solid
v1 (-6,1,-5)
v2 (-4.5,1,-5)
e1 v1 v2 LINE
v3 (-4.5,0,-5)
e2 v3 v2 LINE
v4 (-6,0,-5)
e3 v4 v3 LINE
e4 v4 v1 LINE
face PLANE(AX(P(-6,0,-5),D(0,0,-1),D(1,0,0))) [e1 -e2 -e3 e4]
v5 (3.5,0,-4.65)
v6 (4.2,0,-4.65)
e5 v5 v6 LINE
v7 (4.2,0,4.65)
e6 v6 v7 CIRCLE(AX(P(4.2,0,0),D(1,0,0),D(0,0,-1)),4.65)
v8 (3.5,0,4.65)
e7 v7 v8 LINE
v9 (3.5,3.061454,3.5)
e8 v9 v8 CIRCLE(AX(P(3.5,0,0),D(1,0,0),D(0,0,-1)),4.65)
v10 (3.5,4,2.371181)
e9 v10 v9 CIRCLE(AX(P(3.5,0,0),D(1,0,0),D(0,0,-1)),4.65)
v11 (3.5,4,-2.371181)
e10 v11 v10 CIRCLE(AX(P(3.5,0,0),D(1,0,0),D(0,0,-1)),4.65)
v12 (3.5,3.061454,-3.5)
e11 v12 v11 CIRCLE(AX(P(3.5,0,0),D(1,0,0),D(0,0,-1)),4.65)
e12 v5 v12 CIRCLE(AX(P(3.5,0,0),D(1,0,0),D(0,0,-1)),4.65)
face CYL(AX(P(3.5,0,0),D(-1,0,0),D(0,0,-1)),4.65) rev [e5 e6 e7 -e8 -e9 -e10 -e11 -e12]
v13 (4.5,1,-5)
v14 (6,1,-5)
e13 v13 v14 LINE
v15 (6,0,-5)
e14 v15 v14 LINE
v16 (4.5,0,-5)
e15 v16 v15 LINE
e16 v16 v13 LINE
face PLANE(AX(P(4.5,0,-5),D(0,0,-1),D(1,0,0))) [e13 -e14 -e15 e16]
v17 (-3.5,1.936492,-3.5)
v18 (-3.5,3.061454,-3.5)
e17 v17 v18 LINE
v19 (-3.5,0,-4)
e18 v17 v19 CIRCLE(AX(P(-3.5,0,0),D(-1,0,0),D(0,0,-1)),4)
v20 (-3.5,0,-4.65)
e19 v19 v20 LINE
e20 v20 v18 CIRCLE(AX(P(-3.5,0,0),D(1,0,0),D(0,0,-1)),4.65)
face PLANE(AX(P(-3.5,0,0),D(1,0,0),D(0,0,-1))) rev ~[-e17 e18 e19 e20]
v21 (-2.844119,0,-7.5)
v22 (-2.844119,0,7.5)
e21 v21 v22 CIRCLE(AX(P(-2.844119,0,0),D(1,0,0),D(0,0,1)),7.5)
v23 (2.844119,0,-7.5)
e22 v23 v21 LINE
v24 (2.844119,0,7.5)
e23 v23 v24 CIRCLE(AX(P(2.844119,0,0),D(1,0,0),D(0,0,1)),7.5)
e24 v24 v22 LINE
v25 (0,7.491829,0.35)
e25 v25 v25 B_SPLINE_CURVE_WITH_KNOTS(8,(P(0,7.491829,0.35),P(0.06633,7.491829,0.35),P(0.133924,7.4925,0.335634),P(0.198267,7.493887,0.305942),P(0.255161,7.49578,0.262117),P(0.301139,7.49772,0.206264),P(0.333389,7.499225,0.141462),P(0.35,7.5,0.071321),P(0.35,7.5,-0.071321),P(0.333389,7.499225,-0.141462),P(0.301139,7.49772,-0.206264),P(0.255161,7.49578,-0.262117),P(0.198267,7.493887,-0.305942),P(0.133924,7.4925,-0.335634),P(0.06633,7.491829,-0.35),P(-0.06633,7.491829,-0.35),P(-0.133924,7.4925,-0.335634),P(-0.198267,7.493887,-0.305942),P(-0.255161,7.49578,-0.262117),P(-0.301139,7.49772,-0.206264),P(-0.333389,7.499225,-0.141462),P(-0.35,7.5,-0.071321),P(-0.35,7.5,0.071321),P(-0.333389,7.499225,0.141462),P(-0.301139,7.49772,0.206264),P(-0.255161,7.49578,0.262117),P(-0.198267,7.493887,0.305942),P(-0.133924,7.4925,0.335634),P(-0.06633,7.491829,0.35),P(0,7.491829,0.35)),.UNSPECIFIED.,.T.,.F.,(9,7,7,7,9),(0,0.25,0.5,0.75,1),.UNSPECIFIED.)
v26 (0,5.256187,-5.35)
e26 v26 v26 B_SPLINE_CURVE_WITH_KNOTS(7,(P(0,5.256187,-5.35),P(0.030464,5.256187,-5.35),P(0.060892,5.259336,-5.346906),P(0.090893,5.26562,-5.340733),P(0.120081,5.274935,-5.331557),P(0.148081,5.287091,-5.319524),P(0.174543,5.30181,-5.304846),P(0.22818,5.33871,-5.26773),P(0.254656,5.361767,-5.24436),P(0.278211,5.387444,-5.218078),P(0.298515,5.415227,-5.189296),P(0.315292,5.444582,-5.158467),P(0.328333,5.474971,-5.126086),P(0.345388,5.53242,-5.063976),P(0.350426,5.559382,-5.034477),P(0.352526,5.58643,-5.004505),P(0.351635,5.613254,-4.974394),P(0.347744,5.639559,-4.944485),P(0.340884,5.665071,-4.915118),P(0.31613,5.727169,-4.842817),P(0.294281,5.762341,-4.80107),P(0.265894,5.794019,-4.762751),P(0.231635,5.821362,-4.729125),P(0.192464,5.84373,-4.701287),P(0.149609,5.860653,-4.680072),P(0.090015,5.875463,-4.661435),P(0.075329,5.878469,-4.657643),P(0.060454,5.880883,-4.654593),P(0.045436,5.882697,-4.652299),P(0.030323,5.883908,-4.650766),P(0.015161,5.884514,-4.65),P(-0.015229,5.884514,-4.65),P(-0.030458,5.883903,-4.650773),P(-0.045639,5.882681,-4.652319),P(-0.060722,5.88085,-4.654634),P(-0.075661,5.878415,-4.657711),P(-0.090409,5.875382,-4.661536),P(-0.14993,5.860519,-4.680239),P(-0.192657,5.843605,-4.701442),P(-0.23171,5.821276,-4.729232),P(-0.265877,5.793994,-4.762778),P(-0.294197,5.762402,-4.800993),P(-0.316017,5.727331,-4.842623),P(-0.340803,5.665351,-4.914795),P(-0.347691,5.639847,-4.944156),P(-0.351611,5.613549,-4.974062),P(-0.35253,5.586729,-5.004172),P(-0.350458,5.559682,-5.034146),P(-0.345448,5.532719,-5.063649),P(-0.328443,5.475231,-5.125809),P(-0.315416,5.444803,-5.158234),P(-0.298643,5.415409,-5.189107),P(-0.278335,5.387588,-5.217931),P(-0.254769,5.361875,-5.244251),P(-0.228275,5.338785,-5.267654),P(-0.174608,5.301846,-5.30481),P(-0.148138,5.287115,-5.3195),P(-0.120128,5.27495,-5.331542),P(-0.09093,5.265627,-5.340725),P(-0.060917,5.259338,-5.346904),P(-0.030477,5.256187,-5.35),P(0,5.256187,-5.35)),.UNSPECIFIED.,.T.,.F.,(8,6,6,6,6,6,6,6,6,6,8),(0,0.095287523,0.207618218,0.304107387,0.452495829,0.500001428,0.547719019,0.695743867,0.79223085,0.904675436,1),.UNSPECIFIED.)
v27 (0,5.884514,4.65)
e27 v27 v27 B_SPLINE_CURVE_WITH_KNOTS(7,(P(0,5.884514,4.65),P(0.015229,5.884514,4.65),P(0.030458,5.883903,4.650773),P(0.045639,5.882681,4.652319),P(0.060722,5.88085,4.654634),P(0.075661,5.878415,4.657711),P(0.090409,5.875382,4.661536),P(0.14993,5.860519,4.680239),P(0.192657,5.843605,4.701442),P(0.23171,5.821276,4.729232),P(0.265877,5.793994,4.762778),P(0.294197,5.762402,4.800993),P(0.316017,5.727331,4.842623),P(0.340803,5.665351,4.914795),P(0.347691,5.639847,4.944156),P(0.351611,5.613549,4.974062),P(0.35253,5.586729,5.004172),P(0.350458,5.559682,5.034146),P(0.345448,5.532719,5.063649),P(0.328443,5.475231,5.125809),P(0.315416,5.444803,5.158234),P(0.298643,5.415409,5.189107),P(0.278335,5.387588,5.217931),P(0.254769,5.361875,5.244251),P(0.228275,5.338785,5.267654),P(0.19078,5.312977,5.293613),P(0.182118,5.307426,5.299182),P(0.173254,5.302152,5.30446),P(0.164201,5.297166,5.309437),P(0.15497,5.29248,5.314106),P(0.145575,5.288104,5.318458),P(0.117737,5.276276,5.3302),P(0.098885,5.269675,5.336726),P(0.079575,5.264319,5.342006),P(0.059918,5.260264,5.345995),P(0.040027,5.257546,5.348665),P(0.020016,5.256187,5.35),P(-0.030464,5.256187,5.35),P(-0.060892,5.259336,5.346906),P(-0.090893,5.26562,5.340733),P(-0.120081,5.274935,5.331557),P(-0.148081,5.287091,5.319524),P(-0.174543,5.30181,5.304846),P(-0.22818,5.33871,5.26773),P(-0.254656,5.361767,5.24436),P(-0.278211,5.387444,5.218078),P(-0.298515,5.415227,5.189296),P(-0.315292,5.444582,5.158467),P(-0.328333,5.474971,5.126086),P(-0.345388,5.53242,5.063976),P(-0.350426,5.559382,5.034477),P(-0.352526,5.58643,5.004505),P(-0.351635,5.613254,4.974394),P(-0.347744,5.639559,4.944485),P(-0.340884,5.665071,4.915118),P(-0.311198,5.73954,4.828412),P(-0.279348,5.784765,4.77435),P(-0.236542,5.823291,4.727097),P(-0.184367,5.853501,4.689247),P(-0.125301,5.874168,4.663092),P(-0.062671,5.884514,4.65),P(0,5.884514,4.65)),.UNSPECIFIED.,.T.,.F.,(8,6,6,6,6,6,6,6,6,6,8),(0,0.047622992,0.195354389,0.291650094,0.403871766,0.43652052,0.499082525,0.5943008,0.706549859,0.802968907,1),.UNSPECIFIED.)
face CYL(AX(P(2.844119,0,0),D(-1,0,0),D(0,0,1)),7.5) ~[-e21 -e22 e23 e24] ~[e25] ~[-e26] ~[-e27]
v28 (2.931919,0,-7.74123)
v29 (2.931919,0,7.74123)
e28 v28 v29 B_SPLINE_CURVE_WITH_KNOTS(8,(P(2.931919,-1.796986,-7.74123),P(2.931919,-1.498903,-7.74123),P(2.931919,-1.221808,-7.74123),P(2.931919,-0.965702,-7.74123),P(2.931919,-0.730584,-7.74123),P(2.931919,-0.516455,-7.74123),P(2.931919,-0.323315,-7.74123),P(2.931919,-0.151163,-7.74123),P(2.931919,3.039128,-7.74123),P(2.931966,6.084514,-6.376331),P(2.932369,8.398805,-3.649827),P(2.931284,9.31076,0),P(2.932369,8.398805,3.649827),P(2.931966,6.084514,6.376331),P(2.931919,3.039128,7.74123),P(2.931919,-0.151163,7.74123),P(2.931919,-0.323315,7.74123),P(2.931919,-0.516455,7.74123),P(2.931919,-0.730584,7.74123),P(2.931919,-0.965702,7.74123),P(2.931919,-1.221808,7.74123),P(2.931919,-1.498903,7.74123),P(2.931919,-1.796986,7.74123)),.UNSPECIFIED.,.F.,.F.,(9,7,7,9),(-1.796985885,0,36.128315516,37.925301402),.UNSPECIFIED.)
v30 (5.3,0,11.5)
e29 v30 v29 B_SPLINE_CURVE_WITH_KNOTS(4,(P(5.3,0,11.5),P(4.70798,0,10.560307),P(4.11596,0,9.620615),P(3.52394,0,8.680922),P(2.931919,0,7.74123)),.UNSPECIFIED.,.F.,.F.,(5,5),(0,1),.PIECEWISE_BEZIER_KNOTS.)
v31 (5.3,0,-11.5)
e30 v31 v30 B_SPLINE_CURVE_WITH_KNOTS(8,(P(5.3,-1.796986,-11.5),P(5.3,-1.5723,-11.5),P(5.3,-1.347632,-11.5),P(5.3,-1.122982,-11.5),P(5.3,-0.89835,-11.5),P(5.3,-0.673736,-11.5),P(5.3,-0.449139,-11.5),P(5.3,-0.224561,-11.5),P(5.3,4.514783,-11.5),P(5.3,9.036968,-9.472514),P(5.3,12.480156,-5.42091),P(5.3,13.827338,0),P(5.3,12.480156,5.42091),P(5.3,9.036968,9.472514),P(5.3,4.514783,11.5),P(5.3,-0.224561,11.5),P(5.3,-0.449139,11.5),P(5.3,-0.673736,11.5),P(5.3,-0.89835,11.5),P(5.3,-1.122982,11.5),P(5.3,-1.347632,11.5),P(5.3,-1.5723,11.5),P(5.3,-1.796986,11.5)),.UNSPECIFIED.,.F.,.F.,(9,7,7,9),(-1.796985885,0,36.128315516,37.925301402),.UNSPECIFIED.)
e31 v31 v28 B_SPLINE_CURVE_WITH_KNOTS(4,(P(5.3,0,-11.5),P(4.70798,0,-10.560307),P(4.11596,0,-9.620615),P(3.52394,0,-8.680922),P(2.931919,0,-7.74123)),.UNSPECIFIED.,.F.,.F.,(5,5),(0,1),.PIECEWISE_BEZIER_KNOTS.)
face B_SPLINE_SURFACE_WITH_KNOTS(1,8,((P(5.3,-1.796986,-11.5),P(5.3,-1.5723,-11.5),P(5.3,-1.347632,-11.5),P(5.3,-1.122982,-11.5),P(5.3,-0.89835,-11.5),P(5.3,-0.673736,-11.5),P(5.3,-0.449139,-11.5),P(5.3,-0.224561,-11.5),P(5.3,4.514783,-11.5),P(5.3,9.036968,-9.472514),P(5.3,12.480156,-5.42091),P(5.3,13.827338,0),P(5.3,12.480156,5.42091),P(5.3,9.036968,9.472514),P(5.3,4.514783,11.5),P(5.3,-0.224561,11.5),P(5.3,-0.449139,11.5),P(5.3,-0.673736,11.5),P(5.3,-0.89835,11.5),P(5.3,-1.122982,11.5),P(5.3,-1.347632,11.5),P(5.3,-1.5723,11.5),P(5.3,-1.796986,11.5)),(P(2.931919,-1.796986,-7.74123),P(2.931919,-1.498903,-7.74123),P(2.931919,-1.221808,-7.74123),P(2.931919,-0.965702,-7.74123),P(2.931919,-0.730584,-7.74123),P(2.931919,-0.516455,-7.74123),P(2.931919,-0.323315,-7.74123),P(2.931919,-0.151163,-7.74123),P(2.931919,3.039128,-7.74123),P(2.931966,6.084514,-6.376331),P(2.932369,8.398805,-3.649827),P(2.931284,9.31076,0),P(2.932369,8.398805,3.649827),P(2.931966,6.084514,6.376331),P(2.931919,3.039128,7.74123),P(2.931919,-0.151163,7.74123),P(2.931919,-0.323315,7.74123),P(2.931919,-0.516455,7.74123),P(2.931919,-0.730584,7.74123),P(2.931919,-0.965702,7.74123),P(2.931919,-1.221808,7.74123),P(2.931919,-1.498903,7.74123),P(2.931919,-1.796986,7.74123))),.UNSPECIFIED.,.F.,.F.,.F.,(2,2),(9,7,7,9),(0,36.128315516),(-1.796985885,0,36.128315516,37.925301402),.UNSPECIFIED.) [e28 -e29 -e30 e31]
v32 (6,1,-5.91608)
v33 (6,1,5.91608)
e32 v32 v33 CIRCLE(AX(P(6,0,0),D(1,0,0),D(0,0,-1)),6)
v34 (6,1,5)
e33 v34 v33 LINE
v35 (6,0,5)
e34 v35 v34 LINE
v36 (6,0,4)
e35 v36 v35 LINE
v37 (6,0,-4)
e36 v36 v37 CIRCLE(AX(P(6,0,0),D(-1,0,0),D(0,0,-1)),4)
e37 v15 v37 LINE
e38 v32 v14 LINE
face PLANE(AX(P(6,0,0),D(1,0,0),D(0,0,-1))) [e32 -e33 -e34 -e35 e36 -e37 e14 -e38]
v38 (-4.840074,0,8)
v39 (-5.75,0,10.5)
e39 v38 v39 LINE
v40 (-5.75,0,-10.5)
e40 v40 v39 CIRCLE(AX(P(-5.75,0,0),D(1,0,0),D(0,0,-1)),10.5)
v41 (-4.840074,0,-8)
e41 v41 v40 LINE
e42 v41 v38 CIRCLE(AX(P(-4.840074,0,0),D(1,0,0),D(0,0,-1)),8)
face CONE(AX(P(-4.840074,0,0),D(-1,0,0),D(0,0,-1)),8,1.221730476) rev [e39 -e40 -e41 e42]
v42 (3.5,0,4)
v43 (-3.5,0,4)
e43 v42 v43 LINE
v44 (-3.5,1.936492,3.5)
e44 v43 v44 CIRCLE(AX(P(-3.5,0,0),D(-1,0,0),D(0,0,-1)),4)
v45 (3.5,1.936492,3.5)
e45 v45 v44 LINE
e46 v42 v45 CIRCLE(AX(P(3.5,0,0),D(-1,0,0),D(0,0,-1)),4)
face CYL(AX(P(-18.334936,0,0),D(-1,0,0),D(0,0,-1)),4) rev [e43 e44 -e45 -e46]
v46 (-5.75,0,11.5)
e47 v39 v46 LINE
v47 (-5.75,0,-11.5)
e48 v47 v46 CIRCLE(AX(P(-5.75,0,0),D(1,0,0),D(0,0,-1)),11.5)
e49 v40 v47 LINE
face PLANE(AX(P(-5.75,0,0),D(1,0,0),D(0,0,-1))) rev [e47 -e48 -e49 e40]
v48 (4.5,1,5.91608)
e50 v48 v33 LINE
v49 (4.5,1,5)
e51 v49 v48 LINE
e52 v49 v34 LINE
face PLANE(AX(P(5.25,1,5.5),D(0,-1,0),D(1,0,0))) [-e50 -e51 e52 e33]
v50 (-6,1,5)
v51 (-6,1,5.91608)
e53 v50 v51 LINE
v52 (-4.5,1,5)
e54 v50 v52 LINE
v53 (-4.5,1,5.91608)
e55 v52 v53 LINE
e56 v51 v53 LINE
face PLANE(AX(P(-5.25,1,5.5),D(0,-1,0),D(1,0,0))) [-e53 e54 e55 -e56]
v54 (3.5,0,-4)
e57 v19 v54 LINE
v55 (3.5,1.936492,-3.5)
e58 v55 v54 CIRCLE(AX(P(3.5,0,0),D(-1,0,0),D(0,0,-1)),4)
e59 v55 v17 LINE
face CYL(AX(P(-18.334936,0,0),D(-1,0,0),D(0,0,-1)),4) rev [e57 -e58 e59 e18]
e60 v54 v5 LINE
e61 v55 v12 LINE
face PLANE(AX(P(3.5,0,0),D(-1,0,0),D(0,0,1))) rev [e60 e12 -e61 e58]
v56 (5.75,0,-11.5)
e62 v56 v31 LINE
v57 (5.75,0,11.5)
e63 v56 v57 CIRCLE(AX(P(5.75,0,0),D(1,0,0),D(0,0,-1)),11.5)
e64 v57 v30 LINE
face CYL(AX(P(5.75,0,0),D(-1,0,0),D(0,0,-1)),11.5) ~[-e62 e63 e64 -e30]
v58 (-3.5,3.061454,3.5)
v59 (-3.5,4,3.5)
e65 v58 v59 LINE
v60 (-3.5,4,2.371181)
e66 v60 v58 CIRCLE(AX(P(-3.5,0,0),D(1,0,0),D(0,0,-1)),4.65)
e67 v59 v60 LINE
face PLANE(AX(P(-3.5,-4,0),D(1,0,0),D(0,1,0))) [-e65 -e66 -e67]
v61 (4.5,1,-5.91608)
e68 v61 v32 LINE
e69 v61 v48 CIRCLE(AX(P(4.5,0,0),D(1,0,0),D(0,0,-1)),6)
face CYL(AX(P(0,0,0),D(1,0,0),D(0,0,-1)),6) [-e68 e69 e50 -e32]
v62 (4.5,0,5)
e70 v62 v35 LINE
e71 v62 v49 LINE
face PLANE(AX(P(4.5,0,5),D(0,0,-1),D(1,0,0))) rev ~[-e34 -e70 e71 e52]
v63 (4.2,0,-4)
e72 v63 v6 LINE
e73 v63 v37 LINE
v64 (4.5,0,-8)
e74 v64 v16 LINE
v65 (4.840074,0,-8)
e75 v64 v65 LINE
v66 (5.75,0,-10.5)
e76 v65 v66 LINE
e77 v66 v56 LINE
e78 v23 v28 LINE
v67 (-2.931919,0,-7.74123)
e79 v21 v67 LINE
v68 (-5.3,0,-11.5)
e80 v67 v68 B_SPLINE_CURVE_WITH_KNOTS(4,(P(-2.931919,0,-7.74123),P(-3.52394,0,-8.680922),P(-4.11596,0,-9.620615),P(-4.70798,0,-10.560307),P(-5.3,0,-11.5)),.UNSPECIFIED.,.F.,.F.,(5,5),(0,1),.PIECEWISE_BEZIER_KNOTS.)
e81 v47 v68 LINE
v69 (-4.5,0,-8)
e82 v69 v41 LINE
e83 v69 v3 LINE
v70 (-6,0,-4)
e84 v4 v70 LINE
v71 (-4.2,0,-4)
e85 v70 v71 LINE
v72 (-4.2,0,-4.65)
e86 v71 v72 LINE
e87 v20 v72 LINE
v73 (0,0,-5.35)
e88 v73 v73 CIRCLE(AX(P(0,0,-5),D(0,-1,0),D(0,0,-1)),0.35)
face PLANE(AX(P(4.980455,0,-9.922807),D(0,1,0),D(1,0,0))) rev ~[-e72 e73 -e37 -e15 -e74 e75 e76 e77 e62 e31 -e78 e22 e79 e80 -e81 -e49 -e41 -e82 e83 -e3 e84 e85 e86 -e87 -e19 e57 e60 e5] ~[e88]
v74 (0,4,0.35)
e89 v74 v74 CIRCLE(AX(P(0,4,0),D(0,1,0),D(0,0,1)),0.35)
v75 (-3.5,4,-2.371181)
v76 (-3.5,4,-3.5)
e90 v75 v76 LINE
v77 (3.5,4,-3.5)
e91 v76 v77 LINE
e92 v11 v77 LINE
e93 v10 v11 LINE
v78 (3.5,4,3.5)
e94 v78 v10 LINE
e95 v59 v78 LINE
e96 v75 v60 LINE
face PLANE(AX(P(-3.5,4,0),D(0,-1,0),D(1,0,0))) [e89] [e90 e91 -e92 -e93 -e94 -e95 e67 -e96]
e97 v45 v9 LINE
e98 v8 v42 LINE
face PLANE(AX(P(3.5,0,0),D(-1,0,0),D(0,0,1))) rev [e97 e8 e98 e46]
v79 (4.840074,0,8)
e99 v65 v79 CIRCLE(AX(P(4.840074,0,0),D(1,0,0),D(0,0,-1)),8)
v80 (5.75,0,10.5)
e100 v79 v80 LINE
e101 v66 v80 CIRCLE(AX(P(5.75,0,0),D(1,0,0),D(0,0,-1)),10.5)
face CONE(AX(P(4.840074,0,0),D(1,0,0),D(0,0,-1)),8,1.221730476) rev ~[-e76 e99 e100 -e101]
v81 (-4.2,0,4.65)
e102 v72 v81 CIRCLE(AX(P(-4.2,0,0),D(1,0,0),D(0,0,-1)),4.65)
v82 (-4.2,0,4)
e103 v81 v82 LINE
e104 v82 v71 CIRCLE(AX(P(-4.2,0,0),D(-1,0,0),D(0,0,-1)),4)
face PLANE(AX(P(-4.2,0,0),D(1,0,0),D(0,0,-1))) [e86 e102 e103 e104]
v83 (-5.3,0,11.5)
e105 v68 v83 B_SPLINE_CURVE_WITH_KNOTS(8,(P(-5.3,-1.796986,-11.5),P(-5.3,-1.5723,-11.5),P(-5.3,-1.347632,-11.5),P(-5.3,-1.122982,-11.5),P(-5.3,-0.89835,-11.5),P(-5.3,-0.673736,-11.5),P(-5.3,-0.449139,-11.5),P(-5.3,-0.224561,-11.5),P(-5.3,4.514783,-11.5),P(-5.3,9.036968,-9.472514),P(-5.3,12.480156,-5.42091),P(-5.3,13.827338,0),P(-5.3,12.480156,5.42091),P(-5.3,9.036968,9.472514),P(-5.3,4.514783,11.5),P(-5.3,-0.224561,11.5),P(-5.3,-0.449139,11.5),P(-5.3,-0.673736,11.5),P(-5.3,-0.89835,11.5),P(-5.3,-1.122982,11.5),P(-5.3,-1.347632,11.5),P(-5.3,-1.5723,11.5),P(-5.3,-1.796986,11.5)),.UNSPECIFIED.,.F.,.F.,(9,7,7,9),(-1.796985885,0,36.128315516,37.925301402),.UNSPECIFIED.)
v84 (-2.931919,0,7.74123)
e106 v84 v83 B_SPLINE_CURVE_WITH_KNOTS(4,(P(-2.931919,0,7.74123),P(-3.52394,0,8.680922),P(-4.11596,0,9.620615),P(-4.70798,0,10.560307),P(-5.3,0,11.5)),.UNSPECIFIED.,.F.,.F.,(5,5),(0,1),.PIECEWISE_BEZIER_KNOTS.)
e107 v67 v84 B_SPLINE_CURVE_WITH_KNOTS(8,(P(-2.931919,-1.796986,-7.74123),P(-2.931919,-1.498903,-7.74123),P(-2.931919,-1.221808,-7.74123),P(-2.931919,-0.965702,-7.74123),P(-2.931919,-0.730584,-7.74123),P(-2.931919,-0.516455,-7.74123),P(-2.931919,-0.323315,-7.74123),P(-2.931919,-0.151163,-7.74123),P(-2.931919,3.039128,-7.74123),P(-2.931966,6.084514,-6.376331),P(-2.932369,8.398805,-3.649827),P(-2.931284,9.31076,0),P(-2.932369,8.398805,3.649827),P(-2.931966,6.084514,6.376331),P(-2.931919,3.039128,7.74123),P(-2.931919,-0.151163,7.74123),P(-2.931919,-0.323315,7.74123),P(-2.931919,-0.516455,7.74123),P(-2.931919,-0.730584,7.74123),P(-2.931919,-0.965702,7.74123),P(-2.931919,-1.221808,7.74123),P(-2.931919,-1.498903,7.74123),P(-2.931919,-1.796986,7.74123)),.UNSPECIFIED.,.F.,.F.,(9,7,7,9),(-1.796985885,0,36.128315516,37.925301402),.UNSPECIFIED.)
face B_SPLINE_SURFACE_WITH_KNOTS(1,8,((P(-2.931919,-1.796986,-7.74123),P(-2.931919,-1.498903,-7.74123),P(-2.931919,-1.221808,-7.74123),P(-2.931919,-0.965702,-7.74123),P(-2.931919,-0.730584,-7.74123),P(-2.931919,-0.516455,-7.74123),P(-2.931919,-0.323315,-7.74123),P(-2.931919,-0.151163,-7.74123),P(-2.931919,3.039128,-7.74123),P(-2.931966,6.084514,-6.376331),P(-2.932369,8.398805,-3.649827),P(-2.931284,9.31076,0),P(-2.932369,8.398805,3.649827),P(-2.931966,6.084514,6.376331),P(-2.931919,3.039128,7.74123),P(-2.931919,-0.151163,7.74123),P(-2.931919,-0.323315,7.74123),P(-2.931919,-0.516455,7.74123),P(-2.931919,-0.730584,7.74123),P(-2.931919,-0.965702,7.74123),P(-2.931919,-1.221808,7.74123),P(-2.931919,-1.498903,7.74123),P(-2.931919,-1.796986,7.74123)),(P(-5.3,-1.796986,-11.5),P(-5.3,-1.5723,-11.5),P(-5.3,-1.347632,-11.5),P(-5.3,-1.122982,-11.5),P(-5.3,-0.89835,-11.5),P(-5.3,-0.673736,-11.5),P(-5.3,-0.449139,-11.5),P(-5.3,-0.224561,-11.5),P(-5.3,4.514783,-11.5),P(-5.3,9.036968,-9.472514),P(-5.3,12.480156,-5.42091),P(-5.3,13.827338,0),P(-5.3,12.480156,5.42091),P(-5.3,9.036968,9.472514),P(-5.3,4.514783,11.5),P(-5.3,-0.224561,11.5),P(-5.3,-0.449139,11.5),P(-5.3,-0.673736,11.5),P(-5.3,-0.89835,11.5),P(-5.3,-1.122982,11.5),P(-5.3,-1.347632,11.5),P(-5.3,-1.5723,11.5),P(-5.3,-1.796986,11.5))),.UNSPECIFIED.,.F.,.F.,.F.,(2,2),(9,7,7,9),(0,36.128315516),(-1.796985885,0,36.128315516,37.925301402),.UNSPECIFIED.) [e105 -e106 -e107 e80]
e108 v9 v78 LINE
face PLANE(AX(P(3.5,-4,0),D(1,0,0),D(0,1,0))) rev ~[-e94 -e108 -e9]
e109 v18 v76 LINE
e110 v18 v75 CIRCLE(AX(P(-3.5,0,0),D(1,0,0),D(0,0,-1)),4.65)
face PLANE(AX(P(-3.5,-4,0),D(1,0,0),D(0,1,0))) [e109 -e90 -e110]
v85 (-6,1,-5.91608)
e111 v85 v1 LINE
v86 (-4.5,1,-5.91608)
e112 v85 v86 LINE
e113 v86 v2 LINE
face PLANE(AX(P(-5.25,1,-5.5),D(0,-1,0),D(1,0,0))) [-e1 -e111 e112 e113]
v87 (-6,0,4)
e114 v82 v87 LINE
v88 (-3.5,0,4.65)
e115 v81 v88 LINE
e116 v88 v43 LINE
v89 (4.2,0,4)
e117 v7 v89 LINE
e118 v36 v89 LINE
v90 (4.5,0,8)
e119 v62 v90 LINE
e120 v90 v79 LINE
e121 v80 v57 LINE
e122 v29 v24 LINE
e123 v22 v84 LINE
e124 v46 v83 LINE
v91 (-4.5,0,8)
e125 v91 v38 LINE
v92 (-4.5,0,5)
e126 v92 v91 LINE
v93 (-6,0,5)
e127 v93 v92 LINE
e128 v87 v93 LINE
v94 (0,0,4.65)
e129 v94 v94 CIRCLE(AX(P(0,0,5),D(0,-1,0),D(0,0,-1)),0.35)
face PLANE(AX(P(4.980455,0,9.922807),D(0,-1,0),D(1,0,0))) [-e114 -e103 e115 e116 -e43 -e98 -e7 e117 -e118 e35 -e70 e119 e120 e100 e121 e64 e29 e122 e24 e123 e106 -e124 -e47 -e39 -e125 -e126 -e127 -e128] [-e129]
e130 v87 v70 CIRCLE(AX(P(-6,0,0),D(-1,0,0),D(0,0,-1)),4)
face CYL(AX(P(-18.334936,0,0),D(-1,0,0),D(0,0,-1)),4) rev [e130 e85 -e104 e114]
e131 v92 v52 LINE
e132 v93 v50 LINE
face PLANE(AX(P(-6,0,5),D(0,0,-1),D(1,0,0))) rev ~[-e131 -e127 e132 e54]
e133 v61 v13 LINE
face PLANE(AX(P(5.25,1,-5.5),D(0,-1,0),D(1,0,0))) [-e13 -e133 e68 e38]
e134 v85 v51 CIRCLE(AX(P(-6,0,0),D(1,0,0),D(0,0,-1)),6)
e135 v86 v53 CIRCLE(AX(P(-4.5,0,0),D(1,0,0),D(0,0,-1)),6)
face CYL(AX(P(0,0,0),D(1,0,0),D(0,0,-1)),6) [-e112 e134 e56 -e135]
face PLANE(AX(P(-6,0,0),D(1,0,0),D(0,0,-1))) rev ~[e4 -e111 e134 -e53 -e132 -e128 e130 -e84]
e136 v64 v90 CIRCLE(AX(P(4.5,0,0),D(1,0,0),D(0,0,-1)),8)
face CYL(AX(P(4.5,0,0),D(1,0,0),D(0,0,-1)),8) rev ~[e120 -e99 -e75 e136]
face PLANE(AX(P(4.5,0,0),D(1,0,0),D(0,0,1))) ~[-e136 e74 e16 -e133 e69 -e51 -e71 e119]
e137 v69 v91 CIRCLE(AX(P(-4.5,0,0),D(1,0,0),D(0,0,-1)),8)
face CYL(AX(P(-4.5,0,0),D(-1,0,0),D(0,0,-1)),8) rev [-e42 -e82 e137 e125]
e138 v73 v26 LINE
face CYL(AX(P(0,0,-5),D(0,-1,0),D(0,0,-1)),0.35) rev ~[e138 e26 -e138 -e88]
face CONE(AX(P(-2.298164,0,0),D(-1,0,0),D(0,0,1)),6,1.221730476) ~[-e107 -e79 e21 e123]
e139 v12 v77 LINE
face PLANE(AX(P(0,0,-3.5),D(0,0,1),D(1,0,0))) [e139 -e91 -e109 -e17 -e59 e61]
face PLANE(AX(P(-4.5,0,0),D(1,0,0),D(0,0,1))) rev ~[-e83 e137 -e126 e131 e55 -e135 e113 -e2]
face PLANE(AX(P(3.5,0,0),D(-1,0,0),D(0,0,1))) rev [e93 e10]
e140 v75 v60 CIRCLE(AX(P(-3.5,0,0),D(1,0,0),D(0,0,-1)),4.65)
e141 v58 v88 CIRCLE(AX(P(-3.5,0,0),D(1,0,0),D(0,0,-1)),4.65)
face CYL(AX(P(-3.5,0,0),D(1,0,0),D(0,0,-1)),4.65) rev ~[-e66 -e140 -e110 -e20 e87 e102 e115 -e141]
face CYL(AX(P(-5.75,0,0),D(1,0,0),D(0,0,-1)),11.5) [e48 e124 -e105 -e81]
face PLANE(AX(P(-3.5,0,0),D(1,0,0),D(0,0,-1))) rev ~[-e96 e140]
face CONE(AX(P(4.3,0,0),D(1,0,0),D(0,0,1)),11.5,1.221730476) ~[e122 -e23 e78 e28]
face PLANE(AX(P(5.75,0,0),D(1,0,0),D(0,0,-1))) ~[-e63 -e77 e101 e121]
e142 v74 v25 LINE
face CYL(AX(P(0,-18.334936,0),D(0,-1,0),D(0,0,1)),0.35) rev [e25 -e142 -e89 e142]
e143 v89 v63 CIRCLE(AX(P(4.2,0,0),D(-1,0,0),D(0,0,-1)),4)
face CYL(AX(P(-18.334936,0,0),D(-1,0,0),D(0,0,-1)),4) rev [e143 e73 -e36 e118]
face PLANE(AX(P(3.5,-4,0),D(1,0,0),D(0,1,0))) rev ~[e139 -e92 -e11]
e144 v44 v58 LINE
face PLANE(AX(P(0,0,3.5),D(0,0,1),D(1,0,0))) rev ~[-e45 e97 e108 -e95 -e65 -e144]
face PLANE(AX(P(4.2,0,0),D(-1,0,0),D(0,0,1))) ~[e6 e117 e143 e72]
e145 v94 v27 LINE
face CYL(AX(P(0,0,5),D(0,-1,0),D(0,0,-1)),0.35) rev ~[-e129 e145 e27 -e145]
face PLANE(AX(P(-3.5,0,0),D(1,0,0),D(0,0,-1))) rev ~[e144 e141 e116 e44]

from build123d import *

# Parameters (mm, degrees)
PADSKE_R             = 6
PAD_DEPTH            = 6
HOLE_DEPTH           = 18.334935823
HOLE_DEPTH_BACK      = 18.334935823
HOLESKE_R            = 4
SCREWHOLE_DEPTH      = 18.334935823
SCREWHOLE_DEPTH_BACK = 18.334935823
SCREWHOLESKE_R       = 0.35
BOXSKE_W             = 7
BOXSKE_H             = 8
BOX_DEPTH            = 3.5
CUTSKE_W             = 26
CUTSKE_H             = 26
CUT_DEPTH            = 20
SCREWHOLE2SKE_R      = 0.35
SCREWHOLE2_DEPTH     = 18.334935823
SLOTSKE_W            = 1.5
SLOTSKE_H            = 1
SLOT_DEPTH           = 1
FLANGESLOTSKE_R      = 4.65
FLANGESLOT_DEPTH     = 0.7
EDGE_2_ANGLE         = 180
CHAMFER_2_SIZE       = 1
CHAMFER_2_SIZE2      = 4
CHAMFER2_SIZE        = 4
CHAMFER2_SIZE2       = 1


with BuildPart() as part:
    # BodySke → Body (revolve)
    with BuildSketch(Plane(origin=(0, 0, 0), x_dir=(1, 0, 0), z_dir=(0, 1, 0)), mode=Mode.PRIVATE) as body_sk:
        Polygon((4.5, 0), (4.5, 11.5), (4.3, 11.5), (2.298163712, 6), (-2.298163712, 6), (-4.3, 11.5), (-4.5, 11.5), (-4.5, 0), align=None)
    revolve(body_sk.sketch.rotate(Axis((-4.5, 0, 0), (1, 0, 0)), 180), axis=Axis((-4.5, 0, 0), (1, 0, 0)))

    # BoldSke → Bold (revolve)
    with BuildSketch(Plane(origin=(0, 0, 0), x_dir=(1, 0, 0), z_dir=(0, 1, 0)), mode=Mode.PRIVATE) as bold_sk:
        Polygon((-2.298163712, 6), (2.298163712, 6), (2.844119063, 7.5), (-2.844119063, 7.5), align=None)
    revolve(bold_sk.sketch.rotate(Axis((0, 0, 0), (1, 0, 0)), 180), axis=Axis((0, 0, 0), (1, 0, 0)))

    # PadSke → Pad (add, symmetric)
    with BuildSketch(Plane(origin=(0, 0, 0), x_dir=(0, 0, -1), z_dir=(1, 0, 0))):
        Circle(PADSKE_R)
    extrude(amount=PAD_DEPTH, both=True)

    # HoleSke → Hole (cut, two sides: drawn at the far end of the back side and taken through both)
    with BuildSketch(Plane(origin=(0, 0, 0), x_dir=(0, 0, -1), z_dir=(1, 0, 0)).offset(-HOLE_DEPTH_BACK)):
        Circle(HOLESKE_R)
    extrude(amount=HOLE_DEPTH + HOLE_DEPTH_BACK, mode=Mode.SUBTRACT)

    # ScrewHoleSke → ScrewHole (cut, two sides: drawn at the far end of the back side and taken through both)
    with BuildSketch(Plane(origin=(0, 0, 0), x_dir=(1, 0, 0), z_dir=(0, 1, 0)).offset(-SCREWHOLE_DEPTH_BACK)):
        with Locations(Location((0, 0, 0), (0, 0, 270))):
            Circle(SCREWHOLESKE_R)
    extrude(amount=SCREWHOLE_DEPTH + SCREWHOLE_DEPTH_BACK, mode=Mode.SUBTRACT)

    # BoxSke → Box (cut, symmetric)
    with BuildSketch(Plane.XY):
        Rectangle(BOXSKE_W, BOXSKE_H)
    extrude(amount=BOX_DEPTH, both=True, mode=Mode.SUBTRACT)

    # CutSke → Cut (cut)
    with BuildSketch(Plane(origin=(0, 0, 0), x_dir=(1, 0, 0), z_dir=(0, 1, 0))):
        Rectangle(CUTSKE_W, CUTSKE_H)
    extrude(amount=-CUT_DEPTH, mode=Mode.SUBTRACT)

    # ScrewHole2Ske → ScrewHole2 (cut, through all)
    with BuildSketch(Plane.XZ):
        with Locations(Location((0, -5, 0), (0, 0, 270))):
            Circle(SCREWHOLE2SKE_R)
        with Locations(Location((0, 5, 0), (0, 0, 270))):
            Circle(SCREWHOLE2SKE_R)
    extrude(amount=-SCREWHOLE2_DEPTH, mode=Mode.SUBTRACT)

    # SlotSke → Slot (cut)
    with BuildSketch(Plane.XZ):
        with Locations((-5.25, 5.5)):
            Rectangle(SLOTSKE_W, SLOTSKE_H)
        with Locations((5.25, 5.5)):
            Rectangle(SLOTSKE_W, SLOTSKE_H)
        with Locations((5.25, -5.5)):
            Rectangle(SLOTSKE_W, SLOTSKE_H)
        with Locations((-5.25, -5.5)):
            Rectangle(SLOTSKE_W, SLOTSKE_H)
    extrude(amount=-SLOT_DEPTH, mode=Mode.SUBTRACT)

    # FlangeSlotSke → FlangeSlot (cut)
    with BuildSketch(Plane(origin=(-3.5, 0, 0), x_dir=(0, 0, -1), z_dir=(1, 0, 0))):
        Circle(FLANGESLOTSKE_R)
    flangeslot = extrude(amount=-FLANGESLOT_DEPTH, mode=Mode.SUBTRACT)

    # FlangeSlot2: FlangeSlot across plane
    add(flangeslot.mirror(Plane(origin=(0, 0, 0), x_dir=(0, 0, 1), z_dir=(1, 0, 0))), mode=Mode.SUBTRACT)

    # EdgeSke → Edge 2 (revolve)
    with BuildSketch(Plane(origin=(0, 0, 0), x_dir=(1, 0, 0), z_dir=(0, 1, 0))):
        Polygon((4.5, 8), (4.840074414, 8), (5.75, 10.5), (5.75, 11.5), (4.5, 11.5), align=None)
        Polygon((-5.75, 11.5), (-4.5, 11.5), (-4.5, 8), (-4.840074414, 8), (-5.75, 10.5), align=None)
    revolve(axis=Axis((-4.5, 0, 0), (1, 0, 0)), revolution_arc=EDGE_2_ANGLE)

    # Chamfer 2
    chamfer_2_edges = [part.edges().sort_by_distance(p)[0] for p in [
        (4.3, 11.5, 0),
    ]]
    chamfer_2_side = [part.faces().sort_by_distance(p)[0] for p in [
        (4.4, 11.5, 0),
    ]]
    chamfer(chamfer_2_edges, length=CHAMFER_2_SIZE, length2=CHAMFER_2_SIZE2, reference=chamfer_2_side[0])

    # Chamfer2
    chamfer2_edges = [part.edges().sort_by_distance(p)[0] for p in [
        (-4.3, 11.5, 0),
    ]]
    chamfer2_side = [part.faces().sort_by_distance(p)[0] for p in [
        (-3.572059531, 9.5, 0),
    ]]
    chamfer(chamfer2_edges, length=CHAMFER2_SIZE, length2=CHAMFER2_SIZE2, reference=chamfer2_side[0])


solid = part.part
